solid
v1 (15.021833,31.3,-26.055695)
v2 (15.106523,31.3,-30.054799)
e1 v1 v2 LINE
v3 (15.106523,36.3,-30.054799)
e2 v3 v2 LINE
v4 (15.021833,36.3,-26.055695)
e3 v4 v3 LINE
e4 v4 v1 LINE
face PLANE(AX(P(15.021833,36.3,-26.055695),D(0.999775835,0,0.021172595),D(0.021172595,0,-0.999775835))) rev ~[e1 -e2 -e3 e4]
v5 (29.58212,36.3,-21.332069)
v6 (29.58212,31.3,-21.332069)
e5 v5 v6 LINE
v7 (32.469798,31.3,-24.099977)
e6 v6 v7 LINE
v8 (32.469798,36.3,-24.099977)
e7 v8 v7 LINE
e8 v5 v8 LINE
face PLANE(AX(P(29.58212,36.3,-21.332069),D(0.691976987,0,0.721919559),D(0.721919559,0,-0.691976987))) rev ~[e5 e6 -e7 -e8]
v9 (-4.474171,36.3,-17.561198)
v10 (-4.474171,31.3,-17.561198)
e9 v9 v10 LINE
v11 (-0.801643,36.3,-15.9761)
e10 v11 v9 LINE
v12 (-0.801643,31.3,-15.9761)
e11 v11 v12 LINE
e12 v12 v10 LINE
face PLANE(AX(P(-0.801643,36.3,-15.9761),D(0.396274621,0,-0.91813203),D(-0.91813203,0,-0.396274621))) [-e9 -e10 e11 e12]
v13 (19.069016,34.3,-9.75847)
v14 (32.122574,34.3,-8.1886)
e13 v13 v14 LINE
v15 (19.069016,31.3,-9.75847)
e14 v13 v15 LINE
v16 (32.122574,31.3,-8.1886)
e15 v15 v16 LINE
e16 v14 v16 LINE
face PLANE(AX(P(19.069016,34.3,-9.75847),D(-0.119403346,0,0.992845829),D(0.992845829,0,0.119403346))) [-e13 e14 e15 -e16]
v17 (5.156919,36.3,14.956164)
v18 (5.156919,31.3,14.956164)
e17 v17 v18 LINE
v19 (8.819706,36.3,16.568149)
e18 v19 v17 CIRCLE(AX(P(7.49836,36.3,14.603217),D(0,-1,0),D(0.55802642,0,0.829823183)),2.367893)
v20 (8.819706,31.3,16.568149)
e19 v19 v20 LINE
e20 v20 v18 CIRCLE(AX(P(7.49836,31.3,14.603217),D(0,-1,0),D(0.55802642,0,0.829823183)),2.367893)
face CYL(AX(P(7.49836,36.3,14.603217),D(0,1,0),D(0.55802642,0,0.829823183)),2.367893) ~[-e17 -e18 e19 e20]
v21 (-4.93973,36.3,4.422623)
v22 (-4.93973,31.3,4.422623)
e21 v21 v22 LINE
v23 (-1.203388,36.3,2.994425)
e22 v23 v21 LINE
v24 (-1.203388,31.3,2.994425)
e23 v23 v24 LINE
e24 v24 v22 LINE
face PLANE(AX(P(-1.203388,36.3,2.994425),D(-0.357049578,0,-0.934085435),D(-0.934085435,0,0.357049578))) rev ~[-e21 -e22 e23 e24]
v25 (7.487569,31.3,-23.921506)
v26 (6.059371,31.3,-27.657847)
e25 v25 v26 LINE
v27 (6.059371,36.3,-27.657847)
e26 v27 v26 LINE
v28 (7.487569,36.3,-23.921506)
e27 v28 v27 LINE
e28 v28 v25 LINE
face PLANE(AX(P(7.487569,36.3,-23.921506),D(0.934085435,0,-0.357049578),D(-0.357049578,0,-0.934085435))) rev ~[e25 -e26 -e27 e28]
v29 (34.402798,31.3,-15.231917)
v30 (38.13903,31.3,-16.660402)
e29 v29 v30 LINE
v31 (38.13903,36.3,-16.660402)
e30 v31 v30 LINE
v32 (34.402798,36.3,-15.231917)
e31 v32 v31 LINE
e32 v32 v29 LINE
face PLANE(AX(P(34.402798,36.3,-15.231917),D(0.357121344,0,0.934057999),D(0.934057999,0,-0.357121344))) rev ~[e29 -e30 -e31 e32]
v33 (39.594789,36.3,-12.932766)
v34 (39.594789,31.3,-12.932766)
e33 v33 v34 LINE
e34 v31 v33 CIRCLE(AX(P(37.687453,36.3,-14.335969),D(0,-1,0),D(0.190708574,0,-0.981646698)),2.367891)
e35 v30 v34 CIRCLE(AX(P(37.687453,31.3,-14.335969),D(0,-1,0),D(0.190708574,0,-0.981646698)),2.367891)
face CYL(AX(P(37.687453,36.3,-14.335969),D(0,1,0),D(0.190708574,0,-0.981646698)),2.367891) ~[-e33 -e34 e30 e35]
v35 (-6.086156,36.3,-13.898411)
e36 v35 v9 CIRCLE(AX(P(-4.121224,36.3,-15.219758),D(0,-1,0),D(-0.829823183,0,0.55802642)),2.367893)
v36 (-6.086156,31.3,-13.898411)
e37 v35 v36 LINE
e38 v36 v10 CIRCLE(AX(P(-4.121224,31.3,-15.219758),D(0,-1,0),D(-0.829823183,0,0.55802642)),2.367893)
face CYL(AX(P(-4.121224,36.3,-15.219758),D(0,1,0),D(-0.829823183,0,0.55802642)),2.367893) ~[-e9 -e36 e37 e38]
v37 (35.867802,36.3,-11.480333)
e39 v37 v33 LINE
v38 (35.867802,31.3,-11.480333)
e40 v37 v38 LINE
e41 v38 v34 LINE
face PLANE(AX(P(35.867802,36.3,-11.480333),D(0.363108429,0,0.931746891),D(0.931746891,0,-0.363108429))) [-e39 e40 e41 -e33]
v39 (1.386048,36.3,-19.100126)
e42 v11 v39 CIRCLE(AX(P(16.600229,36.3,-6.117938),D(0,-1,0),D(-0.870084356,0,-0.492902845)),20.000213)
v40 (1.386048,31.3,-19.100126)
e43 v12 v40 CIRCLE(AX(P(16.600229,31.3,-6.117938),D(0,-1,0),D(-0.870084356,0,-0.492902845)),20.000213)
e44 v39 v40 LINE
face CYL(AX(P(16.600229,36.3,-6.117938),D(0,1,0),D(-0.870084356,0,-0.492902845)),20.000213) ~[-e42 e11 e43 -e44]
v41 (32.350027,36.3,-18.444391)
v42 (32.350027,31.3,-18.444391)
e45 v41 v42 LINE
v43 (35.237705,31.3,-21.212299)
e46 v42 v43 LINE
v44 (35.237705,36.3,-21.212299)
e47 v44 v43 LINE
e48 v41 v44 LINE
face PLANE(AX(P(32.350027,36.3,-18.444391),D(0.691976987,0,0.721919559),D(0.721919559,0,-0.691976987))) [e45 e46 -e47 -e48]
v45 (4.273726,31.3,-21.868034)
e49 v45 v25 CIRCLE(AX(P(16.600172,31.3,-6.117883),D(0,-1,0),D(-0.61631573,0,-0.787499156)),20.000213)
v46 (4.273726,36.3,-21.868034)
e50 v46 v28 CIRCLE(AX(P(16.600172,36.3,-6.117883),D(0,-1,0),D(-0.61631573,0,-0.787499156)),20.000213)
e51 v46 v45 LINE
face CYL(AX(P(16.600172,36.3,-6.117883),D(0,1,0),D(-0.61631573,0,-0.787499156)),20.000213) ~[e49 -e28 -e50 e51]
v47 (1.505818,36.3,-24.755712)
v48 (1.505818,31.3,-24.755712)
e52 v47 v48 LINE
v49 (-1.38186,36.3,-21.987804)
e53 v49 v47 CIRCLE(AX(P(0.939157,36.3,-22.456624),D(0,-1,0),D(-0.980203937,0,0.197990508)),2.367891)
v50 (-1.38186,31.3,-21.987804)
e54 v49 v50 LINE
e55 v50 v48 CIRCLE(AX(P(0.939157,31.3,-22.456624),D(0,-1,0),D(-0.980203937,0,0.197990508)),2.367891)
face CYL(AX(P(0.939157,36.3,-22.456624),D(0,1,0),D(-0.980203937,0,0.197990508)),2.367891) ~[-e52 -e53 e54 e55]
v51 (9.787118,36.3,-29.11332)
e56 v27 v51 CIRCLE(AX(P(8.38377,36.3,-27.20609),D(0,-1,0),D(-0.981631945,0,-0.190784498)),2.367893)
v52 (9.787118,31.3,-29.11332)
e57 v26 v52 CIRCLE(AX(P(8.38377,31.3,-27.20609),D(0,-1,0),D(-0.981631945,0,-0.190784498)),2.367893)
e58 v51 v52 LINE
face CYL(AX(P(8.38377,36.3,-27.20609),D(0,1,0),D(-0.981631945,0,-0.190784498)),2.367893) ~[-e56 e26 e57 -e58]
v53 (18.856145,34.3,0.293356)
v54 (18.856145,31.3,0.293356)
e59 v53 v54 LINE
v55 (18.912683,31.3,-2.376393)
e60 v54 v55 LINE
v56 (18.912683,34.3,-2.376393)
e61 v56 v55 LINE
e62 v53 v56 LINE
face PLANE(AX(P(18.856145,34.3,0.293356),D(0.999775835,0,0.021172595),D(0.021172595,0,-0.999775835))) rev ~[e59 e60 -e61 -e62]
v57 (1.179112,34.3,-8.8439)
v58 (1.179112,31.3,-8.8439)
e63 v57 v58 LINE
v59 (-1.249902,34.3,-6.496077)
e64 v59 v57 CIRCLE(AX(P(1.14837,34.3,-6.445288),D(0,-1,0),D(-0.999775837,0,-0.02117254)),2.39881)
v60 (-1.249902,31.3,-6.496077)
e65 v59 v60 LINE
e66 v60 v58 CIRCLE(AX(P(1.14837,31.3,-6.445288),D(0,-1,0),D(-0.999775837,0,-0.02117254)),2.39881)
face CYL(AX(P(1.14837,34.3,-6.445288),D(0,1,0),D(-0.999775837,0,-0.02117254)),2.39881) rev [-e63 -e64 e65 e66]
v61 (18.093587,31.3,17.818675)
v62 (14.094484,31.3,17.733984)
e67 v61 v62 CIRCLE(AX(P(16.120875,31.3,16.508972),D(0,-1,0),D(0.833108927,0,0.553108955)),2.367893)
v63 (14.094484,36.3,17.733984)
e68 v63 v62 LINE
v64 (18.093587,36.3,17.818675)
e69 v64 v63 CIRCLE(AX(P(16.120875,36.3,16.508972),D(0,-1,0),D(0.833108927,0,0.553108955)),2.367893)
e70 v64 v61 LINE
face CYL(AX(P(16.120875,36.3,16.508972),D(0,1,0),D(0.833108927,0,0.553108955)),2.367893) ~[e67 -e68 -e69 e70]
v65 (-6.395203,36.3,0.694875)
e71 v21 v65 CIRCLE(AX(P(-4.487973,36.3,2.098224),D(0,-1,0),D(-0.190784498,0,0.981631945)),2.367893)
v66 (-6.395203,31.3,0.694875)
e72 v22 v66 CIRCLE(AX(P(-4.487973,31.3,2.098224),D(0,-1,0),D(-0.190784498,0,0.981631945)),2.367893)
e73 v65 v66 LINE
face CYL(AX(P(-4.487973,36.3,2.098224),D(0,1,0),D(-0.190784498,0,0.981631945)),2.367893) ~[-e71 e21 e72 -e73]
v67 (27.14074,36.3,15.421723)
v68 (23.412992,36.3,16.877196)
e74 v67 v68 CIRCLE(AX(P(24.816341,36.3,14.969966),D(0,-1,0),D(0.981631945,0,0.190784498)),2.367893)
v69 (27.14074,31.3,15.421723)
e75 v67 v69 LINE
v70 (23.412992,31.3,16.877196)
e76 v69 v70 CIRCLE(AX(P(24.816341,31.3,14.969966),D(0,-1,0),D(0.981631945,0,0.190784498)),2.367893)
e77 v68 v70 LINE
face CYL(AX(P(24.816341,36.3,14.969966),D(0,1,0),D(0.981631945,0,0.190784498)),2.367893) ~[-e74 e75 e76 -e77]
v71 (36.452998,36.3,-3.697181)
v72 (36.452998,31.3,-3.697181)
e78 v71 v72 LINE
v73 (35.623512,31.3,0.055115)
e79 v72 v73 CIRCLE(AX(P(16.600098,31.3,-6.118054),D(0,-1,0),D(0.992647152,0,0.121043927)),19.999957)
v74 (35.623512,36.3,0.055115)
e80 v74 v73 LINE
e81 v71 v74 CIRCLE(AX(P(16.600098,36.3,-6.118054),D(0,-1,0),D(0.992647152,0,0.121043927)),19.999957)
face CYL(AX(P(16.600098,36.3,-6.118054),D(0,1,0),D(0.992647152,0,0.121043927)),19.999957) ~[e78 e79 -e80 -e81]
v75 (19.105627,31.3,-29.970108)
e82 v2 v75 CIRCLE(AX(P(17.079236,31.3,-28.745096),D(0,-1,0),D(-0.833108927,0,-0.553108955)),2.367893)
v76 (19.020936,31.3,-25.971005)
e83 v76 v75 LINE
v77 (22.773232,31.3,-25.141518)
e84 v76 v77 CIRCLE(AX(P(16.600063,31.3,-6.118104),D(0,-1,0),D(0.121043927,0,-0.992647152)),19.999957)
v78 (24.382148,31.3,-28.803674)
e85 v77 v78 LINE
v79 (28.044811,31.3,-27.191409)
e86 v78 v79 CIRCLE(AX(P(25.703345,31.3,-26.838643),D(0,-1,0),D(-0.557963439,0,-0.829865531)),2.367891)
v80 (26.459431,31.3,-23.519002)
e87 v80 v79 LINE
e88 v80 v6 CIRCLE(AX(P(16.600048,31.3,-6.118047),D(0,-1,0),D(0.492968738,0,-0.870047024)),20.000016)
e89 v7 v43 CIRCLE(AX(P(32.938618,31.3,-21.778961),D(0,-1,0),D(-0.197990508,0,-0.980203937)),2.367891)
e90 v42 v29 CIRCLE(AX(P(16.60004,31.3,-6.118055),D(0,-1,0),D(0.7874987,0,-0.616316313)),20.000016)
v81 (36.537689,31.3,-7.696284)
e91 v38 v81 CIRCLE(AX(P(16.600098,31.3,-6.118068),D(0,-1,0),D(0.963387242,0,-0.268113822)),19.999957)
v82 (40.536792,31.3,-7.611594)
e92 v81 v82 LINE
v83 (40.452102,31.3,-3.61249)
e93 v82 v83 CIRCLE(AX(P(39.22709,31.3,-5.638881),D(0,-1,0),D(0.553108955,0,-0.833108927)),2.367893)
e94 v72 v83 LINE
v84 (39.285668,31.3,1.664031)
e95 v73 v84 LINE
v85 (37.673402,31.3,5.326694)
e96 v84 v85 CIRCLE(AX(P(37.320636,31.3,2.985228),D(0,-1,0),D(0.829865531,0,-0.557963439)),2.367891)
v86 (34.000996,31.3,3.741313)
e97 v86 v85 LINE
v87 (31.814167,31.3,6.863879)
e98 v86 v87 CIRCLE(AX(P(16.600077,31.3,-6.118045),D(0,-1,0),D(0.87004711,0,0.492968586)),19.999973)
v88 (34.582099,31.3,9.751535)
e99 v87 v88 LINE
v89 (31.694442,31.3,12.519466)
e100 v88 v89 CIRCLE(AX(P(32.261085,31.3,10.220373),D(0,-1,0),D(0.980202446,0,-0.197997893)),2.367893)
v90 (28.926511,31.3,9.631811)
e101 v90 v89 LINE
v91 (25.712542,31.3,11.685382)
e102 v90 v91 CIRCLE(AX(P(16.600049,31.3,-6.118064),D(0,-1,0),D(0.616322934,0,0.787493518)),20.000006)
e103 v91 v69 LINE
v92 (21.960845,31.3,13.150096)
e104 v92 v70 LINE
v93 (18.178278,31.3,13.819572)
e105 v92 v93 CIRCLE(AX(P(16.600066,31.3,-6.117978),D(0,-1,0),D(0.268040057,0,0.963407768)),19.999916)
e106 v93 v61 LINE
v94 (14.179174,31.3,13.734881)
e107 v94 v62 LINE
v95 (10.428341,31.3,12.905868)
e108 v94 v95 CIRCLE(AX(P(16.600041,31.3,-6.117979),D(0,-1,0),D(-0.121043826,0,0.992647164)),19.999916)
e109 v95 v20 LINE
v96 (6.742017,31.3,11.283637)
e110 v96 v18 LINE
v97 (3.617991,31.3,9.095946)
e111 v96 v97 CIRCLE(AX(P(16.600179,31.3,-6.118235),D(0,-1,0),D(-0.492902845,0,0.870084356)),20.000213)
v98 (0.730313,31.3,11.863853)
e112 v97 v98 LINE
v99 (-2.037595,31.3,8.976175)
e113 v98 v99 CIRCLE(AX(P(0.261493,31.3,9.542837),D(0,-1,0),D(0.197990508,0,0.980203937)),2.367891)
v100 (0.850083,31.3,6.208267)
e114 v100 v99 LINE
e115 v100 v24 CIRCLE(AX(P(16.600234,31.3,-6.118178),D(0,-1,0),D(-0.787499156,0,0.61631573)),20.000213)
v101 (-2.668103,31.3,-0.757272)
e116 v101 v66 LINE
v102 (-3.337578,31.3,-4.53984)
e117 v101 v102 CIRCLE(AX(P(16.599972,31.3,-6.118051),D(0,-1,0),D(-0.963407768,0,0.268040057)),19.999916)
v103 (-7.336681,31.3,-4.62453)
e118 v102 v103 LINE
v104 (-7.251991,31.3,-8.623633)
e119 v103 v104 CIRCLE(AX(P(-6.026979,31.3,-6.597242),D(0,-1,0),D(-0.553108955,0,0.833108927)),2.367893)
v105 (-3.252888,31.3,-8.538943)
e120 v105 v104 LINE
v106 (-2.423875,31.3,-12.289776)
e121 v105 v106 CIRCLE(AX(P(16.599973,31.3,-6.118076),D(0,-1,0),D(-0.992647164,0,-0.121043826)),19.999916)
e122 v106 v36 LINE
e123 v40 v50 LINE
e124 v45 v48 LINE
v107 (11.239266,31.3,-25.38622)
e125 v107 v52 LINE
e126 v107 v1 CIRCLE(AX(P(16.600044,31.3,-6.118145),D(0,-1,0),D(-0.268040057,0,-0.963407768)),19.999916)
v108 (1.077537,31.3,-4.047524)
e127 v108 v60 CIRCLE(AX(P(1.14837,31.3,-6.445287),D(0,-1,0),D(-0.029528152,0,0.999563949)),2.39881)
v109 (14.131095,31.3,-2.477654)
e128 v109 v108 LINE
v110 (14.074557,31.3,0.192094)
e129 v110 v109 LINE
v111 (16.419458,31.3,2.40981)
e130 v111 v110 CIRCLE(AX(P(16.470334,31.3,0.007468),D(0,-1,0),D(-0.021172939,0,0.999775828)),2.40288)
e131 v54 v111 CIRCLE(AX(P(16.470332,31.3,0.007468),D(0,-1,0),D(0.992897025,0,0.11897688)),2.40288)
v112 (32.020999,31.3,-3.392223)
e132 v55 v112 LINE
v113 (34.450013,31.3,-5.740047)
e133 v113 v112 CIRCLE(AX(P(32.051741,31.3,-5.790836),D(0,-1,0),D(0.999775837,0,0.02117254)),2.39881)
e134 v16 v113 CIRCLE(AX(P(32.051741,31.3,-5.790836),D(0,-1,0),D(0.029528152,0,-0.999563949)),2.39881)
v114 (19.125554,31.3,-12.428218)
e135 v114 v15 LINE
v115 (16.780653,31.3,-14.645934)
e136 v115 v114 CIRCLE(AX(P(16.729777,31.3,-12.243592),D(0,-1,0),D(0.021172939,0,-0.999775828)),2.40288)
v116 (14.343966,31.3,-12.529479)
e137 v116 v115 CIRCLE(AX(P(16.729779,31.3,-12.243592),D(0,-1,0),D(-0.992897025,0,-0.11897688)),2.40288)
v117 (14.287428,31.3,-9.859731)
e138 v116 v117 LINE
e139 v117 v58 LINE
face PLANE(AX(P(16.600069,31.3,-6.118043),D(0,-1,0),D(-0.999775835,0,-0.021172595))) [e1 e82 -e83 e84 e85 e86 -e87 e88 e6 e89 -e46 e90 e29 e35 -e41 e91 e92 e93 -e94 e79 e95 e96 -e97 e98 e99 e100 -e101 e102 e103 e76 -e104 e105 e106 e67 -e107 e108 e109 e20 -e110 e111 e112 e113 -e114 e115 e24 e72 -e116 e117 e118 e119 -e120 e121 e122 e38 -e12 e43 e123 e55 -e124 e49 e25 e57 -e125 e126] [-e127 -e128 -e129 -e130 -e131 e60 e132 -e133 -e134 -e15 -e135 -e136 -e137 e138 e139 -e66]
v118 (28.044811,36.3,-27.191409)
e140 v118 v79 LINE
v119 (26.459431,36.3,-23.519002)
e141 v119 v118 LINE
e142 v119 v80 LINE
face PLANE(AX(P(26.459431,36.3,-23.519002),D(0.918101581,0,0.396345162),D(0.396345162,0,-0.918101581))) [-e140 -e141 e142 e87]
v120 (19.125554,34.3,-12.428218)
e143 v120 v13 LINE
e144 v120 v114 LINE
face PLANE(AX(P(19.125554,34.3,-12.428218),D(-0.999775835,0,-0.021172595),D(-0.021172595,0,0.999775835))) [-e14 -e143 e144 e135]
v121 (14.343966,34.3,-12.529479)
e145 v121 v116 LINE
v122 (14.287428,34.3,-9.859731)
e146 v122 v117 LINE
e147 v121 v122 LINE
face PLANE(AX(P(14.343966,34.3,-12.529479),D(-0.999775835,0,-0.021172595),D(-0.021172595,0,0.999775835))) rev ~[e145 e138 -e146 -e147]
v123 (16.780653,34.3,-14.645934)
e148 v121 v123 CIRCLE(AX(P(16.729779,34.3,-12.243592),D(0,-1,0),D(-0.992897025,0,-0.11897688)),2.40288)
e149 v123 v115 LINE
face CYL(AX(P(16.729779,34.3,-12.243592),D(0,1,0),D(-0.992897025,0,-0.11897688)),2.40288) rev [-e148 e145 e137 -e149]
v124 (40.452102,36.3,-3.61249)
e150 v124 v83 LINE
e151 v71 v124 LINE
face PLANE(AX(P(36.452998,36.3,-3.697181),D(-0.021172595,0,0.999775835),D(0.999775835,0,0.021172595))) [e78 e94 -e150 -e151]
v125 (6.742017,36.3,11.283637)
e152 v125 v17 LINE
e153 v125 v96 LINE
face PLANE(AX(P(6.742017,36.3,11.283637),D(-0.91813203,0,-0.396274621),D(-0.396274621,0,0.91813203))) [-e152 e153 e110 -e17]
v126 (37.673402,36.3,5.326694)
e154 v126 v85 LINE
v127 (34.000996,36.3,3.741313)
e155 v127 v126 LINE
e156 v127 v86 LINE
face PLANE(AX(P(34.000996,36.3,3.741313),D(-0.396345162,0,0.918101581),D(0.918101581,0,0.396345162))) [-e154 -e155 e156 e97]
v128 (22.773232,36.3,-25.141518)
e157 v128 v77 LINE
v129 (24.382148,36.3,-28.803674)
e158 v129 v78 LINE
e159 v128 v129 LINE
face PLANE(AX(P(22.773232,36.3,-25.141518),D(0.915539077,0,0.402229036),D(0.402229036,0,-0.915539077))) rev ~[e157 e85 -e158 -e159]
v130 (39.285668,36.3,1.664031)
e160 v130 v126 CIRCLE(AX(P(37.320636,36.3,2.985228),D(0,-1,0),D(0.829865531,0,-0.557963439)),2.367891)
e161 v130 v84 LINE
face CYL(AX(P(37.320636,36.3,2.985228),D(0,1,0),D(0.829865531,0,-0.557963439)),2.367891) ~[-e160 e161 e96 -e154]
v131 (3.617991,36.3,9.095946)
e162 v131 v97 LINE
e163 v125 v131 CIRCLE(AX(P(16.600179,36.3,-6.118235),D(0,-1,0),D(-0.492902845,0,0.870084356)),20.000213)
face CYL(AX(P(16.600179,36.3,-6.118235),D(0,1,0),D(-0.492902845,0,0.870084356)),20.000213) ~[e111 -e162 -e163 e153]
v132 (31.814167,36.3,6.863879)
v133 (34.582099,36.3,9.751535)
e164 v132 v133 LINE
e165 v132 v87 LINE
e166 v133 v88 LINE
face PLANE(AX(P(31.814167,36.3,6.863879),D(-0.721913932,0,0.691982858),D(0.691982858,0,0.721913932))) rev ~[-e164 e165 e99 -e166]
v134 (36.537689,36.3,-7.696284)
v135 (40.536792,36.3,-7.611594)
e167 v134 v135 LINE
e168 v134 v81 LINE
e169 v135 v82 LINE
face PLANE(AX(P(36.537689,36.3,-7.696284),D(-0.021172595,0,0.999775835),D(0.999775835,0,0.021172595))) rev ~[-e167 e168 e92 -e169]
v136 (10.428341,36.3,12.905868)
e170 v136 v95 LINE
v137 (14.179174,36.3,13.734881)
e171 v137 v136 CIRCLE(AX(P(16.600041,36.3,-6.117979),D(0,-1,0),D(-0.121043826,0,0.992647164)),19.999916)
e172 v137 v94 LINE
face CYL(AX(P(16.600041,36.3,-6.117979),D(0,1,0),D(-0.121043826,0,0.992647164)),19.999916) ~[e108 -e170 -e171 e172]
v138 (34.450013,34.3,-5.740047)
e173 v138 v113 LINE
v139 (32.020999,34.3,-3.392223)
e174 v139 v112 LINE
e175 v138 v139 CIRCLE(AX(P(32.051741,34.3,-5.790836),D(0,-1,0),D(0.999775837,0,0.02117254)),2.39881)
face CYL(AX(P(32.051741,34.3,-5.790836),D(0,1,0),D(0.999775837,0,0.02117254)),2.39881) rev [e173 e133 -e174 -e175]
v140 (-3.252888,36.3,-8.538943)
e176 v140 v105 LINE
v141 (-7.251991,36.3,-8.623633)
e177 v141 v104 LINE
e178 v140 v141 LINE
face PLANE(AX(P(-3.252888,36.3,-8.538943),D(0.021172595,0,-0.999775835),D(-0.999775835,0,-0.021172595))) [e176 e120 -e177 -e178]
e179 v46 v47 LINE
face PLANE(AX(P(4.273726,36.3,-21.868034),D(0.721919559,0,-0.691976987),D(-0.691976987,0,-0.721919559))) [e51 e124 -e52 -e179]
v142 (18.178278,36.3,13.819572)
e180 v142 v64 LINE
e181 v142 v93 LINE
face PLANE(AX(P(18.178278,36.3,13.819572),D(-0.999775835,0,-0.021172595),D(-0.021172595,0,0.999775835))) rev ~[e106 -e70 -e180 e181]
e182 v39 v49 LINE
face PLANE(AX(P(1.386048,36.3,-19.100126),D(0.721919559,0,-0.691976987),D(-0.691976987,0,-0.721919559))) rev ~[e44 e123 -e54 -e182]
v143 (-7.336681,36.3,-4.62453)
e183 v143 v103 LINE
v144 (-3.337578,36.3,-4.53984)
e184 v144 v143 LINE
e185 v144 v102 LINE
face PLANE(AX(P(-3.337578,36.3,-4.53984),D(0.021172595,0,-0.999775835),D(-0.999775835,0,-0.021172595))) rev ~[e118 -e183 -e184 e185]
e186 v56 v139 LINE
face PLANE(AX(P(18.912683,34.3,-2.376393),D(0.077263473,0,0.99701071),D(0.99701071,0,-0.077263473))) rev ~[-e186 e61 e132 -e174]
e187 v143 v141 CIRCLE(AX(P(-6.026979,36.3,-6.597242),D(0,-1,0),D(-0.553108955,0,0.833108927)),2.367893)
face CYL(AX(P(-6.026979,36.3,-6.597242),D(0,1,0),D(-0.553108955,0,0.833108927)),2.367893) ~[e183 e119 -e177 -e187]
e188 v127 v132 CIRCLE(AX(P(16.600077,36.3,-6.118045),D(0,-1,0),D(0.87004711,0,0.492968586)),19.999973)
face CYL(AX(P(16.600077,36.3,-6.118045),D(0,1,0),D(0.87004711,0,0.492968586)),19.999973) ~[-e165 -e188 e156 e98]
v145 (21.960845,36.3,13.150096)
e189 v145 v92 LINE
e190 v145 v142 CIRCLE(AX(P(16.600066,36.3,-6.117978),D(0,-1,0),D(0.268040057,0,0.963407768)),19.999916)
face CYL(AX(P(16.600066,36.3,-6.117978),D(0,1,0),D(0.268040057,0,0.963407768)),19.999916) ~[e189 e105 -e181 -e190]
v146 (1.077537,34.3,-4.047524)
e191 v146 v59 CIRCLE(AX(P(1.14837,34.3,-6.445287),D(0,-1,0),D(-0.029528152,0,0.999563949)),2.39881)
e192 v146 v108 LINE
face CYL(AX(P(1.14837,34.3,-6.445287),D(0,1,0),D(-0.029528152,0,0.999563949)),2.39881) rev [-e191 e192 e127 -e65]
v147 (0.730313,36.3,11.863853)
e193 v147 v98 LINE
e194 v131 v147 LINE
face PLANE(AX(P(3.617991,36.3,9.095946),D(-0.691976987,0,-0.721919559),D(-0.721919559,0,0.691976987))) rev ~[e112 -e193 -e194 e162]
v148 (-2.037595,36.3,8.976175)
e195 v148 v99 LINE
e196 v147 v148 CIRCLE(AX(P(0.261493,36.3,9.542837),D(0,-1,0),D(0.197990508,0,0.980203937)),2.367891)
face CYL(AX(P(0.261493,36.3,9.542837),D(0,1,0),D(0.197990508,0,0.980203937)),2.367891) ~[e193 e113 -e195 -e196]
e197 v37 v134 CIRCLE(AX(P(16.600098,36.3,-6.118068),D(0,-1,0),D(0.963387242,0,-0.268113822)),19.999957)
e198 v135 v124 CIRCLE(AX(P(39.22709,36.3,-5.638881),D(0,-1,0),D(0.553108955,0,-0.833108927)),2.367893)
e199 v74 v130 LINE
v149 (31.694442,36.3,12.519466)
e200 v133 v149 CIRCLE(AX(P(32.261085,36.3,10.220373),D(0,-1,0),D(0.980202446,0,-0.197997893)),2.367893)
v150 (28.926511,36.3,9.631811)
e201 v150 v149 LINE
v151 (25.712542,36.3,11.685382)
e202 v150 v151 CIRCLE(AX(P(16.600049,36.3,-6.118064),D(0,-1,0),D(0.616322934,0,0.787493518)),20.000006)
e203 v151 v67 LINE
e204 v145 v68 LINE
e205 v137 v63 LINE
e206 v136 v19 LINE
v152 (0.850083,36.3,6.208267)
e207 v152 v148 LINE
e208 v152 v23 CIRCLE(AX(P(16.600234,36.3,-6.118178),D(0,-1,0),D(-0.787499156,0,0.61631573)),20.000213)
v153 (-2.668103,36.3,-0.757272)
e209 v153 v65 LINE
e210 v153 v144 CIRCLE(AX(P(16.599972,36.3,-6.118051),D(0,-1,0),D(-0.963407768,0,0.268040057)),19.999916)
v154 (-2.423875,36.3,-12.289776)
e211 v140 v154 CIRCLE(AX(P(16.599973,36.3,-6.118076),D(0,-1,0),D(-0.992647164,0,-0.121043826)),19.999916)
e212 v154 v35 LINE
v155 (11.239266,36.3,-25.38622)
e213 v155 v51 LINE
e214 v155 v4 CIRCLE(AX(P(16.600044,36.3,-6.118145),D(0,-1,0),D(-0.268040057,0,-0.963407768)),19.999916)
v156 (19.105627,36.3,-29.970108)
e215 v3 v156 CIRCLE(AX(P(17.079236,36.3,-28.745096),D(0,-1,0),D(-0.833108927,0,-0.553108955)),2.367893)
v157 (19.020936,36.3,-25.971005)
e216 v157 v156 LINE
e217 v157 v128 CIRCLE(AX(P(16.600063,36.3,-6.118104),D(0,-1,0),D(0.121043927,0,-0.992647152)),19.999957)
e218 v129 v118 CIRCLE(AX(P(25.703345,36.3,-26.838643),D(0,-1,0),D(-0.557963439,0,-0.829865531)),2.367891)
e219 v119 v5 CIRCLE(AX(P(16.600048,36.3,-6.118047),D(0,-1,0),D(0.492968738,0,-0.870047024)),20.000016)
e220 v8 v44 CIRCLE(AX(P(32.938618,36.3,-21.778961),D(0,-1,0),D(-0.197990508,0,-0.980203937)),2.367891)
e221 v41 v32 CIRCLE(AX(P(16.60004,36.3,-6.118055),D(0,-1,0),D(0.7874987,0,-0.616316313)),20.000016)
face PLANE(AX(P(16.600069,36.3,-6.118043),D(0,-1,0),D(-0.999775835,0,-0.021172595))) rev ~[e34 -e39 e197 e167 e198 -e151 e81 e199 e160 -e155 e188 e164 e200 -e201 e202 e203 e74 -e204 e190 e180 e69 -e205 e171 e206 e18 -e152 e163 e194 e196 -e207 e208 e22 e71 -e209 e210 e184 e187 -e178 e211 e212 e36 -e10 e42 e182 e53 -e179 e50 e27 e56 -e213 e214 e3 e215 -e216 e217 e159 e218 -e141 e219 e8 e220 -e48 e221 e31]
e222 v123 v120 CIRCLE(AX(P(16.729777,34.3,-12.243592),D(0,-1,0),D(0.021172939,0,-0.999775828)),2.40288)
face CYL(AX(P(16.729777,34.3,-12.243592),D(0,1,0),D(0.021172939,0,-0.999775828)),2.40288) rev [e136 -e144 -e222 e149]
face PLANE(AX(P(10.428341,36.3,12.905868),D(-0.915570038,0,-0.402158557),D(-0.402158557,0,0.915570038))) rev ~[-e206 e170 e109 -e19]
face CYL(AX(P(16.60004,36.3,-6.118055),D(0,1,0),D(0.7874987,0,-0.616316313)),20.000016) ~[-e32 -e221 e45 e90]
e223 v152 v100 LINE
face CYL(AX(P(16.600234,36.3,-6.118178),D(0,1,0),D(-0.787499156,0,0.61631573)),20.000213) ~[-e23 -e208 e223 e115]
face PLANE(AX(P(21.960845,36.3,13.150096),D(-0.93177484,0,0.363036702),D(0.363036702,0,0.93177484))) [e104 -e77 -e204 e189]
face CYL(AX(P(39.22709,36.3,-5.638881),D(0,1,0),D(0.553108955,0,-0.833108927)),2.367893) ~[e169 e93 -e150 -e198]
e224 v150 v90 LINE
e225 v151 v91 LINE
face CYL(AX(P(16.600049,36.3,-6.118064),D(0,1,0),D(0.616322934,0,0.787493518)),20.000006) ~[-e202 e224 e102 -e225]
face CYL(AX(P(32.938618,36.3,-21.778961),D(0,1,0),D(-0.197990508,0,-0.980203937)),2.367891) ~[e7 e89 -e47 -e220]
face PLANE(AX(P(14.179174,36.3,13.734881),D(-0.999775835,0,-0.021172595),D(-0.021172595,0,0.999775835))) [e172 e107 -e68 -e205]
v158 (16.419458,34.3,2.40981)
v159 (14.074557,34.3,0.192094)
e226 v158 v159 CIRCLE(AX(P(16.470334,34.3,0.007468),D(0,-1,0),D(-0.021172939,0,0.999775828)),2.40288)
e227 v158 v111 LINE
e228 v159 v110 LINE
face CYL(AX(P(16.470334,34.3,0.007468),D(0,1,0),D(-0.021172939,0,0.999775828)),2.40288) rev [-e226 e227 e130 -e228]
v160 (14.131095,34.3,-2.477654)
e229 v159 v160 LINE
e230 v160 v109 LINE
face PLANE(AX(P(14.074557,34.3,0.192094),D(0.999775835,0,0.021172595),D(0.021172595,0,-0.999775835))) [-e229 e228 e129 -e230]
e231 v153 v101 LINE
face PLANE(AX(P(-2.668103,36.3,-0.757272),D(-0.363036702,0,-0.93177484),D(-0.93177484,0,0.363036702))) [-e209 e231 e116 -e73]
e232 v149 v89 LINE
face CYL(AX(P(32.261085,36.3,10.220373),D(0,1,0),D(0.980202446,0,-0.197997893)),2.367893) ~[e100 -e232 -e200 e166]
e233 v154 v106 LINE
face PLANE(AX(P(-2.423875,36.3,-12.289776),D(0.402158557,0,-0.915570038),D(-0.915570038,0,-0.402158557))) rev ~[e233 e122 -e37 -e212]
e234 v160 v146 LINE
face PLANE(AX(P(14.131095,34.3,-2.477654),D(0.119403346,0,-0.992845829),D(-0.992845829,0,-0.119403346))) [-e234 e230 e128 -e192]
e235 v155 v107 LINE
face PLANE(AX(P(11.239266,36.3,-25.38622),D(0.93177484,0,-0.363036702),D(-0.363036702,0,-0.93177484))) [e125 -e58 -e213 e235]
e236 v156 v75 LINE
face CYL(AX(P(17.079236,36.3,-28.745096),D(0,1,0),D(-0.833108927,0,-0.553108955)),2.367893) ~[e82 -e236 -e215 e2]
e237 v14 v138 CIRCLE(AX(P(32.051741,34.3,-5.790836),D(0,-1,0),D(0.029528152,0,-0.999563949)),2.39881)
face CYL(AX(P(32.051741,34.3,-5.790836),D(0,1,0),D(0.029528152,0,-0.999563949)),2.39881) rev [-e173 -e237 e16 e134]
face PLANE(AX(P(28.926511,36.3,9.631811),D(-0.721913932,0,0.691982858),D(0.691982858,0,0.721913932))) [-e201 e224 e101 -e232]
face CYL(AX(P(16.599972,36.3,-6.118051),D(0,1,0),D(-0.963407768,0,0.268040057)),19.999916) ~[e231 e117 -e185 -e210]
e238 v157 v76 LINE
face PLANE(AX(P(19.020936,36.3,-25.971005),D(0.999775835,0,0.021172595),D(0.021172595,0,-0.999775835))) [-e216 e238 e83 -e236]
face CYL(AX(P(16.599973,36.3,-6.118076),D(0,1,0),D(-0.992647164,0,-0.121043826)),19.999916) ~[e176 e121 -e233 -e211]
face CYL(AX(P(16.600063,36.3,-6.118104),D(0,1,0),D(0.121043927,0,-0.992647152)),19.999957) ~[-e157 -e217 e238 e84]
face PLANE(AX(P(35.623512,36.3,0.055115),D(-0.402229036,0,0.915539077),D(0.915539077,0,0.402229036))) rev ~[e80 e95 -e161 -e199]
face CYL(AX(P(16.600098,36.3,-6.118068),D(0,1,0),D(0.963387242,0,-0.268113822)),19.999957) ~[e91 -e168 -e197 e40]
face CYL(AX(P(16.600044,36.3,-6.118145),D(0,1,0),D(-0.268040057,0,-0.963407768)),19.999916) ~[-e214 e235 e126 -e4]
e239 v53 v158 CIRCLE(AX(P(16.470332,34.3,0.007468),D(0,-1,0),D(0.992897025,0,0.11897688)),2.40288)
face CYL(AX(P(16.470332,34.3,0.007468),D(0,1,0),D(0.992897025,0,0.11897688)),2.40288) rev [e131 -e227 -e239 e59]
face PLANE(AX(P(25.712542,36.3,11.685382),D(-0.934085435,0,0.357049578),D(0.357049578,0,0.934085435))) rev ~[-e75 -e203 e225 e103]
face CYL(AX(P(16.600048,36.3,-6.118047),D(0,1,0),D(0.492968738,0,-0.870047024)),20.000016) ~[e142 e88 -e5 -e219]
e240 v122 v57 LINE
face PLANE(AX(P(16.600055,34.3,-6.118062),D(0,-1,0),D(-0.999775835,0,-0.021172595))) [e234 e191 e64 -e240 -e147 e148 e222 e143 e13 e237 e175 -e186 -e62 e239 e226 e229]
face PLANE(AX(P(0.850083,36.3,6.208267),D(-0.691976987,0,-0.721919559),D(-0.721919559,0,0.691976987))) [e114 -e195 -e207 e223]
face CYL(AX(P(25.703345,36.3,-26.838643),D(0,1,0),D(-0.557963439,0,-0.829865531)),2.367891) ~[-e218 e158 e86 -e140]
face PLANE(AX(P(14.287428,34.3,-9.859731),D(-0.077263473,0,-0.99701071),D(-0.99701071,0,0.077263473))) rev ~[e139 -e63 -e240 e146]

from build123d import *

# Parameters (mm, degrees)
EXTRUDE001_DEPTH                      = 3
EXTRUDE001_ONTO_SKETCH001_ROLL_ANGLE  = -90
EXTRUDE001_ONTO_SKETCH001_PITCH_ANGLE = -1.786809
EXTRUDE_DEPTH                         = 5
EXTRUDE_ONTO_SKETCH_ROLL_ANGLE        = -90
EXTRUDE_ONTO_SKETCH_PITCH_ANGLE       = -1.786809
CUT_PITCH_ANGLE                       = 3
CUT_PLACEMENT_ANGLE                   = 180


with BuildPart() as servo_horn_gap:
    # Sketch001 as drawn → Extrude001 (new)
    with BuildSketch(Plane.XY):
        with BuildLine():
            Line((-2.39133, 6.362213), (-2.39133, 3.691866))
            Line((-2.39133, 3.691866), (-15.4752, 2.398726))
            ThreePointArc((-15.4752, 2.398726), (-17.158439, 1.689111), (-17.85396, 0))
            ThreePointArc((-17.85396, 0), (-17.158439, -1.689111), (-15.4752, -2.398726))
            Line((-2.39133, -3.691866), (-15.4752, -2.398726))
            Line((-2.39133, -6.362213), (-2.39133, -3.691866))
            ThreePointArc((-2.39133, -6.362213), (-1.613755, -7.907248), (0, -8.529784))
            ThreePointArc((0, -8.529784), (1.613755, -7.907248), (2.39133, -6.362213))
            Line((2.39133, -6.362213), (2.39133, -3.691866))
            Line((2.39133, -3.691866), (15.4752, -2.398726))
            ThreePointArc((15.4752, -2.398726), (17.158439, -1.689111), (17.85396, 0))
            ThreePointArc((17.85396, 0), (17.158439, 1.689111), (15.4752, 2.398726))
            Line((2.39133, 3.691866), (15.4752, 2.398726))
            Line((2.39133, 6.362213), (2.39133, 3.691866))
            ThreePointArc((2.39133, 6.362213), (1.613755, 7.907248), (0, 8.529784))
            ThreePointArc((0, 8.529784), (-1.613755, 7.907248), (-2.39133, 6.362213))
        make_face()
    extrude(amount=EXTRUDE001_DEPTH)


with BuildPart() as servo_horn_gap_1:
    # Extrude001 onto Sketch001 roll: moved
    add(servo_horn_gap.part.rotate(Axis((0, 0, 0), (1, 0, 0)), EXTRUDE001_ONTO_SKETCH001_ROLL_ANGLE))


with BuildPart() as servo_horn_gap_2:
    # Extrude001 onto Sketch001 pitch: moved
    add(servo_horn_gap_1.part.rotate(Axis((0, 0, 0), (0, 1, 0)), EXTRUDE001_ONTO_SKETCH001_PITCH_ANGLE))


with BuildPart() as servo_horn_gap_3:
    # Extrude001 onto Sketch001 placement: moved
    add(servo_horn_gap_2.part.moved(Location((16.5, 34.45, -6.25))))


with BuildPart() as servo_gear_mount:
    # Sketch as drawn → Extrude (new)
    with BuildSketch(Plane.XY):
        with BuildLine():
            ThreePointArc((-5.767545, -19.150337), (-3.901806, -19.615706), (-2, -19.899749))
            Line((-2, -19.899749), (-2, -23.899749))
            ThreePointArc((-2, -23.899749), (0, -25), (2, -23.899749))
            Line((2, -19.899749), (2, -23.899749))
            ThreePointArc((2, -19.899749), (3.901806, -19.615706), (5.767545, -19.150337))
            Line((5.767545, -19.150337), (7.298279, -22.845856))
            ThreePointArc((7.298279, -22.845856), (9.568651, -23.096339), (10.994375, -21.311783))
            Line((9.487389, -17.606518), (10.994375, -21.311783))
            ThreePointArc((9.487389, -17.606518), (11.122885, -16.621715), (12.657034, -15.485461))
            Line((12.657034, -15.485461), (15.485461, -18.313888))
            ThreePointArc((15.485461, -18.313888), (17.67767, -17.67767), (18.313888, -15.485461))
            Line((15.485461, -12.657034), (18.313888, -15.485461))
            ThreePointArc((15.485461, -12.657034), (16.621715, -11.122885), (17.606518, -9.487389))
            Line((17.606518, -9.487389), (21.311783, -10.994375))
            ThreePointArc((21.311783, -10.994375), (23.096339, -9.568651), (22.845856, -7.298279))
            Line((19.150337, -5.767545), (22.845856, -7.298279))
            ThreePointArc((19.150337, -5.767545), (19.615706, -3.901806), (19.899749, -2))
            Line((19.899749, -2), (23.899749, -2))
            ThreePointArc((23.899749, -2), (25, 0), (23.899749, 2))
            Line((19.899749, 2), (23.899749, 2))
            ThreePointArc((19.899749, 2), (19.615706, 3.901806), (19.150337, 5.767545))
            Line((19.150337, 5.767545), (22.845856, 7.298279))
            ThreePointArc((22.845856, 7.298279), (23.096339, 9.568651), (21.311783, 10.994375))
            Line((17.606518, 9.487389), (21.311783, 10.994375))
            ThreePointArc((17.606518, 9.487389), (16.621715, 11.122885), (15.485461, 12.657034))
            Line((15.485461, 12.657034), (18.313888, 15.485461))
            ThreePointArc((18.313888, 15.485461), (17.67767, 17.67767), (15.485461, 18.313888))
            Line((12.657034, 15.485461), (15.485461, 18.313888))
            ThreePointArc((12.657034, 15.485461), (11.122885, 16.621715), (9.487389, 17.606518))
            Line((9.487389, 17.606518), (10.994375, 21.311783))
            ThreePointArc((10.994375, 21.311783), (9.568651, 23.096339), (7.298279, 22.845856))
            Line((5.767545, 19.150337), (7.298279, 22.845856))
            ThreePointArc((5.767545, 19.150337), (3.901806, 19.615706), (2, 19.899749))
            Line((2, 19.899749), (2, 23.899749))
            ThreePointArc((2, 23.899749), (0, 25), (-2, 23.899749))
            Line((-2, 19.899749), (-2, 23.899749))
            ThreePointArc((-2, 19.899749), (-3.90256, 19.615556), (-5.769017, 19.149894))
            Line((-5.769017, 19.149894), (-7.300035, 22.845294))
            ThreePointArc((-7.300035, 22.845294), (-9.570426, 23.095604), (-10.996013, 21.310938))
            Line((-9.488742, 17.605788), (-10.996013, 21.310938))
            ThreePointArc((-9.488742, 17.605788), (-11.123524, 16.621288), (-12.657034, 15.485461))
            Line((-12.657034, 15.485461), (-15.485461, 18.313888))
            ThreePointArc((-15.485461, 18.313888), (-17.67767, 17.67767), (-18.313888, 15.485461))
            Line((-15.485461, 12.657034), (-18.313888, 15.485461))
            ThreePointArc((-15.485461, 12.657034), (-16.621288, 11.123524), (-17.605788, 9.488742))
            Line((-17.605788, 9.488742), (-21.310938, 10.996013))
            ThreePointArc((-21.310938, 10.996013), (-23.095604, 9.570426), (-22.845294, 7.300035))
            Line((-19.149894, 5.769017), (-22.845294, 7.300035))
            ThreePointArc((-19.149894, 5.769017), (-19.615556, 3.90256), (-19.899749, 2))
            Line((-19.899749, 2), (-23.899749, 2))
            ThreePointArc((-23.899749, 2), (-25, 0), (-23.899749, -2))
            Line((-19.899749, -2), (-23.899749, -2))
            ThreePointArc((-19.899749, -2), (-19.615556, -3.90256), (-19.149894, -5.769017))
            Line((-19.149894, -5.769017), (-22.845294, -7.300035))
            ThreePointArc((-22.845294, -7.300035), (-23.095604, -9.570426), (-21.310938, -10.996013))
            Line((-17.605788, -9.488742), (-21.310938, -10.996013))
            ThreePointArc((-17.605788, -9.488742), (-16.621333, -11.123457), (-15.485563, -12.656909))
            Line((-15.485563, -12.656909), (-18.314013, -15.485313))
            ThreePointArc((-18.314013, -15.485313), (-17.677812, -17.677527), (-15.485608, -18.313763))
            Line((-12.657158, -15.485359), (-15.485608, -18.313763))
            ThreePointArc((-12.657158, -15.485359), (-11.122952, -16.621671), (-9.487389, -17.606518))
            Line((-9.487389, -17.606518), (-10.994375, -21.311783))
            ThreePointArc((-10.994375, -21.311783), (-9.568651, -23.096339), (-7.298279, -22.845856))
            Line((-5.767545, -19.150337), (-7.298279, -22.845856))
        make_face()
    extrude(amount=EXTRUDE_DEPTH)


with BuildPart() as servo_gear_mount_1:
    # Extrude onto Sketch roll: moved
    add(servo_gear_mount.part.rotate(Axis((0, 0, 0), (1, 0, 0)), EXTRUDE_ONTO_SKETCH_ROLL_ANGLE))


with BuildPart() as servo_gear_mount_2:
    # Extrude onto Sketch pitch: moved
    add(servo_gear_mount_1.part.rotate(Axis((0, 0, 0), (0, 1, 0)), EXTRUDE_ONTO_SKETCH_PITCH_ANGLE))


with BuildPart() as servo_gear_mount_3:
    # Extrude onto Sketch placement: moved
    add(servo_gear_mount_2.part.moved(Location((16.5, 34.45, -6.25))))


with BuildPart() as servo_gear_mount_4:
    # Extrude placement: moved
    add(servo_gear_mount_3.part.moved(Location((0, -2, 0))))

    # Cut: cut Servo Horn Gap
    add(servo_horn_gap_3.part, mode=Mode.SUBTRACT)


with BuildPart() as servo_gear_mount_5:
    # Cut pitch: moved
    add(servo_gear_mount_4.part.rotate(Axis((0, 0, 0), (0, 1, 0)), CUT_PITCH_ANGLE))


with BuildPart() as servo_gear_mount_6:
    # Cut placement: moved
    add(servo_gear_mount_5.part.moved(Location((32.750343, 68.75, 0.986916))).rotate(Axis((32.750343, 68.75, 0.986916), (0, 0, 1)), CUT_PLACEMENT_ANGLE))


solid = servo_gear_mount_6.part
